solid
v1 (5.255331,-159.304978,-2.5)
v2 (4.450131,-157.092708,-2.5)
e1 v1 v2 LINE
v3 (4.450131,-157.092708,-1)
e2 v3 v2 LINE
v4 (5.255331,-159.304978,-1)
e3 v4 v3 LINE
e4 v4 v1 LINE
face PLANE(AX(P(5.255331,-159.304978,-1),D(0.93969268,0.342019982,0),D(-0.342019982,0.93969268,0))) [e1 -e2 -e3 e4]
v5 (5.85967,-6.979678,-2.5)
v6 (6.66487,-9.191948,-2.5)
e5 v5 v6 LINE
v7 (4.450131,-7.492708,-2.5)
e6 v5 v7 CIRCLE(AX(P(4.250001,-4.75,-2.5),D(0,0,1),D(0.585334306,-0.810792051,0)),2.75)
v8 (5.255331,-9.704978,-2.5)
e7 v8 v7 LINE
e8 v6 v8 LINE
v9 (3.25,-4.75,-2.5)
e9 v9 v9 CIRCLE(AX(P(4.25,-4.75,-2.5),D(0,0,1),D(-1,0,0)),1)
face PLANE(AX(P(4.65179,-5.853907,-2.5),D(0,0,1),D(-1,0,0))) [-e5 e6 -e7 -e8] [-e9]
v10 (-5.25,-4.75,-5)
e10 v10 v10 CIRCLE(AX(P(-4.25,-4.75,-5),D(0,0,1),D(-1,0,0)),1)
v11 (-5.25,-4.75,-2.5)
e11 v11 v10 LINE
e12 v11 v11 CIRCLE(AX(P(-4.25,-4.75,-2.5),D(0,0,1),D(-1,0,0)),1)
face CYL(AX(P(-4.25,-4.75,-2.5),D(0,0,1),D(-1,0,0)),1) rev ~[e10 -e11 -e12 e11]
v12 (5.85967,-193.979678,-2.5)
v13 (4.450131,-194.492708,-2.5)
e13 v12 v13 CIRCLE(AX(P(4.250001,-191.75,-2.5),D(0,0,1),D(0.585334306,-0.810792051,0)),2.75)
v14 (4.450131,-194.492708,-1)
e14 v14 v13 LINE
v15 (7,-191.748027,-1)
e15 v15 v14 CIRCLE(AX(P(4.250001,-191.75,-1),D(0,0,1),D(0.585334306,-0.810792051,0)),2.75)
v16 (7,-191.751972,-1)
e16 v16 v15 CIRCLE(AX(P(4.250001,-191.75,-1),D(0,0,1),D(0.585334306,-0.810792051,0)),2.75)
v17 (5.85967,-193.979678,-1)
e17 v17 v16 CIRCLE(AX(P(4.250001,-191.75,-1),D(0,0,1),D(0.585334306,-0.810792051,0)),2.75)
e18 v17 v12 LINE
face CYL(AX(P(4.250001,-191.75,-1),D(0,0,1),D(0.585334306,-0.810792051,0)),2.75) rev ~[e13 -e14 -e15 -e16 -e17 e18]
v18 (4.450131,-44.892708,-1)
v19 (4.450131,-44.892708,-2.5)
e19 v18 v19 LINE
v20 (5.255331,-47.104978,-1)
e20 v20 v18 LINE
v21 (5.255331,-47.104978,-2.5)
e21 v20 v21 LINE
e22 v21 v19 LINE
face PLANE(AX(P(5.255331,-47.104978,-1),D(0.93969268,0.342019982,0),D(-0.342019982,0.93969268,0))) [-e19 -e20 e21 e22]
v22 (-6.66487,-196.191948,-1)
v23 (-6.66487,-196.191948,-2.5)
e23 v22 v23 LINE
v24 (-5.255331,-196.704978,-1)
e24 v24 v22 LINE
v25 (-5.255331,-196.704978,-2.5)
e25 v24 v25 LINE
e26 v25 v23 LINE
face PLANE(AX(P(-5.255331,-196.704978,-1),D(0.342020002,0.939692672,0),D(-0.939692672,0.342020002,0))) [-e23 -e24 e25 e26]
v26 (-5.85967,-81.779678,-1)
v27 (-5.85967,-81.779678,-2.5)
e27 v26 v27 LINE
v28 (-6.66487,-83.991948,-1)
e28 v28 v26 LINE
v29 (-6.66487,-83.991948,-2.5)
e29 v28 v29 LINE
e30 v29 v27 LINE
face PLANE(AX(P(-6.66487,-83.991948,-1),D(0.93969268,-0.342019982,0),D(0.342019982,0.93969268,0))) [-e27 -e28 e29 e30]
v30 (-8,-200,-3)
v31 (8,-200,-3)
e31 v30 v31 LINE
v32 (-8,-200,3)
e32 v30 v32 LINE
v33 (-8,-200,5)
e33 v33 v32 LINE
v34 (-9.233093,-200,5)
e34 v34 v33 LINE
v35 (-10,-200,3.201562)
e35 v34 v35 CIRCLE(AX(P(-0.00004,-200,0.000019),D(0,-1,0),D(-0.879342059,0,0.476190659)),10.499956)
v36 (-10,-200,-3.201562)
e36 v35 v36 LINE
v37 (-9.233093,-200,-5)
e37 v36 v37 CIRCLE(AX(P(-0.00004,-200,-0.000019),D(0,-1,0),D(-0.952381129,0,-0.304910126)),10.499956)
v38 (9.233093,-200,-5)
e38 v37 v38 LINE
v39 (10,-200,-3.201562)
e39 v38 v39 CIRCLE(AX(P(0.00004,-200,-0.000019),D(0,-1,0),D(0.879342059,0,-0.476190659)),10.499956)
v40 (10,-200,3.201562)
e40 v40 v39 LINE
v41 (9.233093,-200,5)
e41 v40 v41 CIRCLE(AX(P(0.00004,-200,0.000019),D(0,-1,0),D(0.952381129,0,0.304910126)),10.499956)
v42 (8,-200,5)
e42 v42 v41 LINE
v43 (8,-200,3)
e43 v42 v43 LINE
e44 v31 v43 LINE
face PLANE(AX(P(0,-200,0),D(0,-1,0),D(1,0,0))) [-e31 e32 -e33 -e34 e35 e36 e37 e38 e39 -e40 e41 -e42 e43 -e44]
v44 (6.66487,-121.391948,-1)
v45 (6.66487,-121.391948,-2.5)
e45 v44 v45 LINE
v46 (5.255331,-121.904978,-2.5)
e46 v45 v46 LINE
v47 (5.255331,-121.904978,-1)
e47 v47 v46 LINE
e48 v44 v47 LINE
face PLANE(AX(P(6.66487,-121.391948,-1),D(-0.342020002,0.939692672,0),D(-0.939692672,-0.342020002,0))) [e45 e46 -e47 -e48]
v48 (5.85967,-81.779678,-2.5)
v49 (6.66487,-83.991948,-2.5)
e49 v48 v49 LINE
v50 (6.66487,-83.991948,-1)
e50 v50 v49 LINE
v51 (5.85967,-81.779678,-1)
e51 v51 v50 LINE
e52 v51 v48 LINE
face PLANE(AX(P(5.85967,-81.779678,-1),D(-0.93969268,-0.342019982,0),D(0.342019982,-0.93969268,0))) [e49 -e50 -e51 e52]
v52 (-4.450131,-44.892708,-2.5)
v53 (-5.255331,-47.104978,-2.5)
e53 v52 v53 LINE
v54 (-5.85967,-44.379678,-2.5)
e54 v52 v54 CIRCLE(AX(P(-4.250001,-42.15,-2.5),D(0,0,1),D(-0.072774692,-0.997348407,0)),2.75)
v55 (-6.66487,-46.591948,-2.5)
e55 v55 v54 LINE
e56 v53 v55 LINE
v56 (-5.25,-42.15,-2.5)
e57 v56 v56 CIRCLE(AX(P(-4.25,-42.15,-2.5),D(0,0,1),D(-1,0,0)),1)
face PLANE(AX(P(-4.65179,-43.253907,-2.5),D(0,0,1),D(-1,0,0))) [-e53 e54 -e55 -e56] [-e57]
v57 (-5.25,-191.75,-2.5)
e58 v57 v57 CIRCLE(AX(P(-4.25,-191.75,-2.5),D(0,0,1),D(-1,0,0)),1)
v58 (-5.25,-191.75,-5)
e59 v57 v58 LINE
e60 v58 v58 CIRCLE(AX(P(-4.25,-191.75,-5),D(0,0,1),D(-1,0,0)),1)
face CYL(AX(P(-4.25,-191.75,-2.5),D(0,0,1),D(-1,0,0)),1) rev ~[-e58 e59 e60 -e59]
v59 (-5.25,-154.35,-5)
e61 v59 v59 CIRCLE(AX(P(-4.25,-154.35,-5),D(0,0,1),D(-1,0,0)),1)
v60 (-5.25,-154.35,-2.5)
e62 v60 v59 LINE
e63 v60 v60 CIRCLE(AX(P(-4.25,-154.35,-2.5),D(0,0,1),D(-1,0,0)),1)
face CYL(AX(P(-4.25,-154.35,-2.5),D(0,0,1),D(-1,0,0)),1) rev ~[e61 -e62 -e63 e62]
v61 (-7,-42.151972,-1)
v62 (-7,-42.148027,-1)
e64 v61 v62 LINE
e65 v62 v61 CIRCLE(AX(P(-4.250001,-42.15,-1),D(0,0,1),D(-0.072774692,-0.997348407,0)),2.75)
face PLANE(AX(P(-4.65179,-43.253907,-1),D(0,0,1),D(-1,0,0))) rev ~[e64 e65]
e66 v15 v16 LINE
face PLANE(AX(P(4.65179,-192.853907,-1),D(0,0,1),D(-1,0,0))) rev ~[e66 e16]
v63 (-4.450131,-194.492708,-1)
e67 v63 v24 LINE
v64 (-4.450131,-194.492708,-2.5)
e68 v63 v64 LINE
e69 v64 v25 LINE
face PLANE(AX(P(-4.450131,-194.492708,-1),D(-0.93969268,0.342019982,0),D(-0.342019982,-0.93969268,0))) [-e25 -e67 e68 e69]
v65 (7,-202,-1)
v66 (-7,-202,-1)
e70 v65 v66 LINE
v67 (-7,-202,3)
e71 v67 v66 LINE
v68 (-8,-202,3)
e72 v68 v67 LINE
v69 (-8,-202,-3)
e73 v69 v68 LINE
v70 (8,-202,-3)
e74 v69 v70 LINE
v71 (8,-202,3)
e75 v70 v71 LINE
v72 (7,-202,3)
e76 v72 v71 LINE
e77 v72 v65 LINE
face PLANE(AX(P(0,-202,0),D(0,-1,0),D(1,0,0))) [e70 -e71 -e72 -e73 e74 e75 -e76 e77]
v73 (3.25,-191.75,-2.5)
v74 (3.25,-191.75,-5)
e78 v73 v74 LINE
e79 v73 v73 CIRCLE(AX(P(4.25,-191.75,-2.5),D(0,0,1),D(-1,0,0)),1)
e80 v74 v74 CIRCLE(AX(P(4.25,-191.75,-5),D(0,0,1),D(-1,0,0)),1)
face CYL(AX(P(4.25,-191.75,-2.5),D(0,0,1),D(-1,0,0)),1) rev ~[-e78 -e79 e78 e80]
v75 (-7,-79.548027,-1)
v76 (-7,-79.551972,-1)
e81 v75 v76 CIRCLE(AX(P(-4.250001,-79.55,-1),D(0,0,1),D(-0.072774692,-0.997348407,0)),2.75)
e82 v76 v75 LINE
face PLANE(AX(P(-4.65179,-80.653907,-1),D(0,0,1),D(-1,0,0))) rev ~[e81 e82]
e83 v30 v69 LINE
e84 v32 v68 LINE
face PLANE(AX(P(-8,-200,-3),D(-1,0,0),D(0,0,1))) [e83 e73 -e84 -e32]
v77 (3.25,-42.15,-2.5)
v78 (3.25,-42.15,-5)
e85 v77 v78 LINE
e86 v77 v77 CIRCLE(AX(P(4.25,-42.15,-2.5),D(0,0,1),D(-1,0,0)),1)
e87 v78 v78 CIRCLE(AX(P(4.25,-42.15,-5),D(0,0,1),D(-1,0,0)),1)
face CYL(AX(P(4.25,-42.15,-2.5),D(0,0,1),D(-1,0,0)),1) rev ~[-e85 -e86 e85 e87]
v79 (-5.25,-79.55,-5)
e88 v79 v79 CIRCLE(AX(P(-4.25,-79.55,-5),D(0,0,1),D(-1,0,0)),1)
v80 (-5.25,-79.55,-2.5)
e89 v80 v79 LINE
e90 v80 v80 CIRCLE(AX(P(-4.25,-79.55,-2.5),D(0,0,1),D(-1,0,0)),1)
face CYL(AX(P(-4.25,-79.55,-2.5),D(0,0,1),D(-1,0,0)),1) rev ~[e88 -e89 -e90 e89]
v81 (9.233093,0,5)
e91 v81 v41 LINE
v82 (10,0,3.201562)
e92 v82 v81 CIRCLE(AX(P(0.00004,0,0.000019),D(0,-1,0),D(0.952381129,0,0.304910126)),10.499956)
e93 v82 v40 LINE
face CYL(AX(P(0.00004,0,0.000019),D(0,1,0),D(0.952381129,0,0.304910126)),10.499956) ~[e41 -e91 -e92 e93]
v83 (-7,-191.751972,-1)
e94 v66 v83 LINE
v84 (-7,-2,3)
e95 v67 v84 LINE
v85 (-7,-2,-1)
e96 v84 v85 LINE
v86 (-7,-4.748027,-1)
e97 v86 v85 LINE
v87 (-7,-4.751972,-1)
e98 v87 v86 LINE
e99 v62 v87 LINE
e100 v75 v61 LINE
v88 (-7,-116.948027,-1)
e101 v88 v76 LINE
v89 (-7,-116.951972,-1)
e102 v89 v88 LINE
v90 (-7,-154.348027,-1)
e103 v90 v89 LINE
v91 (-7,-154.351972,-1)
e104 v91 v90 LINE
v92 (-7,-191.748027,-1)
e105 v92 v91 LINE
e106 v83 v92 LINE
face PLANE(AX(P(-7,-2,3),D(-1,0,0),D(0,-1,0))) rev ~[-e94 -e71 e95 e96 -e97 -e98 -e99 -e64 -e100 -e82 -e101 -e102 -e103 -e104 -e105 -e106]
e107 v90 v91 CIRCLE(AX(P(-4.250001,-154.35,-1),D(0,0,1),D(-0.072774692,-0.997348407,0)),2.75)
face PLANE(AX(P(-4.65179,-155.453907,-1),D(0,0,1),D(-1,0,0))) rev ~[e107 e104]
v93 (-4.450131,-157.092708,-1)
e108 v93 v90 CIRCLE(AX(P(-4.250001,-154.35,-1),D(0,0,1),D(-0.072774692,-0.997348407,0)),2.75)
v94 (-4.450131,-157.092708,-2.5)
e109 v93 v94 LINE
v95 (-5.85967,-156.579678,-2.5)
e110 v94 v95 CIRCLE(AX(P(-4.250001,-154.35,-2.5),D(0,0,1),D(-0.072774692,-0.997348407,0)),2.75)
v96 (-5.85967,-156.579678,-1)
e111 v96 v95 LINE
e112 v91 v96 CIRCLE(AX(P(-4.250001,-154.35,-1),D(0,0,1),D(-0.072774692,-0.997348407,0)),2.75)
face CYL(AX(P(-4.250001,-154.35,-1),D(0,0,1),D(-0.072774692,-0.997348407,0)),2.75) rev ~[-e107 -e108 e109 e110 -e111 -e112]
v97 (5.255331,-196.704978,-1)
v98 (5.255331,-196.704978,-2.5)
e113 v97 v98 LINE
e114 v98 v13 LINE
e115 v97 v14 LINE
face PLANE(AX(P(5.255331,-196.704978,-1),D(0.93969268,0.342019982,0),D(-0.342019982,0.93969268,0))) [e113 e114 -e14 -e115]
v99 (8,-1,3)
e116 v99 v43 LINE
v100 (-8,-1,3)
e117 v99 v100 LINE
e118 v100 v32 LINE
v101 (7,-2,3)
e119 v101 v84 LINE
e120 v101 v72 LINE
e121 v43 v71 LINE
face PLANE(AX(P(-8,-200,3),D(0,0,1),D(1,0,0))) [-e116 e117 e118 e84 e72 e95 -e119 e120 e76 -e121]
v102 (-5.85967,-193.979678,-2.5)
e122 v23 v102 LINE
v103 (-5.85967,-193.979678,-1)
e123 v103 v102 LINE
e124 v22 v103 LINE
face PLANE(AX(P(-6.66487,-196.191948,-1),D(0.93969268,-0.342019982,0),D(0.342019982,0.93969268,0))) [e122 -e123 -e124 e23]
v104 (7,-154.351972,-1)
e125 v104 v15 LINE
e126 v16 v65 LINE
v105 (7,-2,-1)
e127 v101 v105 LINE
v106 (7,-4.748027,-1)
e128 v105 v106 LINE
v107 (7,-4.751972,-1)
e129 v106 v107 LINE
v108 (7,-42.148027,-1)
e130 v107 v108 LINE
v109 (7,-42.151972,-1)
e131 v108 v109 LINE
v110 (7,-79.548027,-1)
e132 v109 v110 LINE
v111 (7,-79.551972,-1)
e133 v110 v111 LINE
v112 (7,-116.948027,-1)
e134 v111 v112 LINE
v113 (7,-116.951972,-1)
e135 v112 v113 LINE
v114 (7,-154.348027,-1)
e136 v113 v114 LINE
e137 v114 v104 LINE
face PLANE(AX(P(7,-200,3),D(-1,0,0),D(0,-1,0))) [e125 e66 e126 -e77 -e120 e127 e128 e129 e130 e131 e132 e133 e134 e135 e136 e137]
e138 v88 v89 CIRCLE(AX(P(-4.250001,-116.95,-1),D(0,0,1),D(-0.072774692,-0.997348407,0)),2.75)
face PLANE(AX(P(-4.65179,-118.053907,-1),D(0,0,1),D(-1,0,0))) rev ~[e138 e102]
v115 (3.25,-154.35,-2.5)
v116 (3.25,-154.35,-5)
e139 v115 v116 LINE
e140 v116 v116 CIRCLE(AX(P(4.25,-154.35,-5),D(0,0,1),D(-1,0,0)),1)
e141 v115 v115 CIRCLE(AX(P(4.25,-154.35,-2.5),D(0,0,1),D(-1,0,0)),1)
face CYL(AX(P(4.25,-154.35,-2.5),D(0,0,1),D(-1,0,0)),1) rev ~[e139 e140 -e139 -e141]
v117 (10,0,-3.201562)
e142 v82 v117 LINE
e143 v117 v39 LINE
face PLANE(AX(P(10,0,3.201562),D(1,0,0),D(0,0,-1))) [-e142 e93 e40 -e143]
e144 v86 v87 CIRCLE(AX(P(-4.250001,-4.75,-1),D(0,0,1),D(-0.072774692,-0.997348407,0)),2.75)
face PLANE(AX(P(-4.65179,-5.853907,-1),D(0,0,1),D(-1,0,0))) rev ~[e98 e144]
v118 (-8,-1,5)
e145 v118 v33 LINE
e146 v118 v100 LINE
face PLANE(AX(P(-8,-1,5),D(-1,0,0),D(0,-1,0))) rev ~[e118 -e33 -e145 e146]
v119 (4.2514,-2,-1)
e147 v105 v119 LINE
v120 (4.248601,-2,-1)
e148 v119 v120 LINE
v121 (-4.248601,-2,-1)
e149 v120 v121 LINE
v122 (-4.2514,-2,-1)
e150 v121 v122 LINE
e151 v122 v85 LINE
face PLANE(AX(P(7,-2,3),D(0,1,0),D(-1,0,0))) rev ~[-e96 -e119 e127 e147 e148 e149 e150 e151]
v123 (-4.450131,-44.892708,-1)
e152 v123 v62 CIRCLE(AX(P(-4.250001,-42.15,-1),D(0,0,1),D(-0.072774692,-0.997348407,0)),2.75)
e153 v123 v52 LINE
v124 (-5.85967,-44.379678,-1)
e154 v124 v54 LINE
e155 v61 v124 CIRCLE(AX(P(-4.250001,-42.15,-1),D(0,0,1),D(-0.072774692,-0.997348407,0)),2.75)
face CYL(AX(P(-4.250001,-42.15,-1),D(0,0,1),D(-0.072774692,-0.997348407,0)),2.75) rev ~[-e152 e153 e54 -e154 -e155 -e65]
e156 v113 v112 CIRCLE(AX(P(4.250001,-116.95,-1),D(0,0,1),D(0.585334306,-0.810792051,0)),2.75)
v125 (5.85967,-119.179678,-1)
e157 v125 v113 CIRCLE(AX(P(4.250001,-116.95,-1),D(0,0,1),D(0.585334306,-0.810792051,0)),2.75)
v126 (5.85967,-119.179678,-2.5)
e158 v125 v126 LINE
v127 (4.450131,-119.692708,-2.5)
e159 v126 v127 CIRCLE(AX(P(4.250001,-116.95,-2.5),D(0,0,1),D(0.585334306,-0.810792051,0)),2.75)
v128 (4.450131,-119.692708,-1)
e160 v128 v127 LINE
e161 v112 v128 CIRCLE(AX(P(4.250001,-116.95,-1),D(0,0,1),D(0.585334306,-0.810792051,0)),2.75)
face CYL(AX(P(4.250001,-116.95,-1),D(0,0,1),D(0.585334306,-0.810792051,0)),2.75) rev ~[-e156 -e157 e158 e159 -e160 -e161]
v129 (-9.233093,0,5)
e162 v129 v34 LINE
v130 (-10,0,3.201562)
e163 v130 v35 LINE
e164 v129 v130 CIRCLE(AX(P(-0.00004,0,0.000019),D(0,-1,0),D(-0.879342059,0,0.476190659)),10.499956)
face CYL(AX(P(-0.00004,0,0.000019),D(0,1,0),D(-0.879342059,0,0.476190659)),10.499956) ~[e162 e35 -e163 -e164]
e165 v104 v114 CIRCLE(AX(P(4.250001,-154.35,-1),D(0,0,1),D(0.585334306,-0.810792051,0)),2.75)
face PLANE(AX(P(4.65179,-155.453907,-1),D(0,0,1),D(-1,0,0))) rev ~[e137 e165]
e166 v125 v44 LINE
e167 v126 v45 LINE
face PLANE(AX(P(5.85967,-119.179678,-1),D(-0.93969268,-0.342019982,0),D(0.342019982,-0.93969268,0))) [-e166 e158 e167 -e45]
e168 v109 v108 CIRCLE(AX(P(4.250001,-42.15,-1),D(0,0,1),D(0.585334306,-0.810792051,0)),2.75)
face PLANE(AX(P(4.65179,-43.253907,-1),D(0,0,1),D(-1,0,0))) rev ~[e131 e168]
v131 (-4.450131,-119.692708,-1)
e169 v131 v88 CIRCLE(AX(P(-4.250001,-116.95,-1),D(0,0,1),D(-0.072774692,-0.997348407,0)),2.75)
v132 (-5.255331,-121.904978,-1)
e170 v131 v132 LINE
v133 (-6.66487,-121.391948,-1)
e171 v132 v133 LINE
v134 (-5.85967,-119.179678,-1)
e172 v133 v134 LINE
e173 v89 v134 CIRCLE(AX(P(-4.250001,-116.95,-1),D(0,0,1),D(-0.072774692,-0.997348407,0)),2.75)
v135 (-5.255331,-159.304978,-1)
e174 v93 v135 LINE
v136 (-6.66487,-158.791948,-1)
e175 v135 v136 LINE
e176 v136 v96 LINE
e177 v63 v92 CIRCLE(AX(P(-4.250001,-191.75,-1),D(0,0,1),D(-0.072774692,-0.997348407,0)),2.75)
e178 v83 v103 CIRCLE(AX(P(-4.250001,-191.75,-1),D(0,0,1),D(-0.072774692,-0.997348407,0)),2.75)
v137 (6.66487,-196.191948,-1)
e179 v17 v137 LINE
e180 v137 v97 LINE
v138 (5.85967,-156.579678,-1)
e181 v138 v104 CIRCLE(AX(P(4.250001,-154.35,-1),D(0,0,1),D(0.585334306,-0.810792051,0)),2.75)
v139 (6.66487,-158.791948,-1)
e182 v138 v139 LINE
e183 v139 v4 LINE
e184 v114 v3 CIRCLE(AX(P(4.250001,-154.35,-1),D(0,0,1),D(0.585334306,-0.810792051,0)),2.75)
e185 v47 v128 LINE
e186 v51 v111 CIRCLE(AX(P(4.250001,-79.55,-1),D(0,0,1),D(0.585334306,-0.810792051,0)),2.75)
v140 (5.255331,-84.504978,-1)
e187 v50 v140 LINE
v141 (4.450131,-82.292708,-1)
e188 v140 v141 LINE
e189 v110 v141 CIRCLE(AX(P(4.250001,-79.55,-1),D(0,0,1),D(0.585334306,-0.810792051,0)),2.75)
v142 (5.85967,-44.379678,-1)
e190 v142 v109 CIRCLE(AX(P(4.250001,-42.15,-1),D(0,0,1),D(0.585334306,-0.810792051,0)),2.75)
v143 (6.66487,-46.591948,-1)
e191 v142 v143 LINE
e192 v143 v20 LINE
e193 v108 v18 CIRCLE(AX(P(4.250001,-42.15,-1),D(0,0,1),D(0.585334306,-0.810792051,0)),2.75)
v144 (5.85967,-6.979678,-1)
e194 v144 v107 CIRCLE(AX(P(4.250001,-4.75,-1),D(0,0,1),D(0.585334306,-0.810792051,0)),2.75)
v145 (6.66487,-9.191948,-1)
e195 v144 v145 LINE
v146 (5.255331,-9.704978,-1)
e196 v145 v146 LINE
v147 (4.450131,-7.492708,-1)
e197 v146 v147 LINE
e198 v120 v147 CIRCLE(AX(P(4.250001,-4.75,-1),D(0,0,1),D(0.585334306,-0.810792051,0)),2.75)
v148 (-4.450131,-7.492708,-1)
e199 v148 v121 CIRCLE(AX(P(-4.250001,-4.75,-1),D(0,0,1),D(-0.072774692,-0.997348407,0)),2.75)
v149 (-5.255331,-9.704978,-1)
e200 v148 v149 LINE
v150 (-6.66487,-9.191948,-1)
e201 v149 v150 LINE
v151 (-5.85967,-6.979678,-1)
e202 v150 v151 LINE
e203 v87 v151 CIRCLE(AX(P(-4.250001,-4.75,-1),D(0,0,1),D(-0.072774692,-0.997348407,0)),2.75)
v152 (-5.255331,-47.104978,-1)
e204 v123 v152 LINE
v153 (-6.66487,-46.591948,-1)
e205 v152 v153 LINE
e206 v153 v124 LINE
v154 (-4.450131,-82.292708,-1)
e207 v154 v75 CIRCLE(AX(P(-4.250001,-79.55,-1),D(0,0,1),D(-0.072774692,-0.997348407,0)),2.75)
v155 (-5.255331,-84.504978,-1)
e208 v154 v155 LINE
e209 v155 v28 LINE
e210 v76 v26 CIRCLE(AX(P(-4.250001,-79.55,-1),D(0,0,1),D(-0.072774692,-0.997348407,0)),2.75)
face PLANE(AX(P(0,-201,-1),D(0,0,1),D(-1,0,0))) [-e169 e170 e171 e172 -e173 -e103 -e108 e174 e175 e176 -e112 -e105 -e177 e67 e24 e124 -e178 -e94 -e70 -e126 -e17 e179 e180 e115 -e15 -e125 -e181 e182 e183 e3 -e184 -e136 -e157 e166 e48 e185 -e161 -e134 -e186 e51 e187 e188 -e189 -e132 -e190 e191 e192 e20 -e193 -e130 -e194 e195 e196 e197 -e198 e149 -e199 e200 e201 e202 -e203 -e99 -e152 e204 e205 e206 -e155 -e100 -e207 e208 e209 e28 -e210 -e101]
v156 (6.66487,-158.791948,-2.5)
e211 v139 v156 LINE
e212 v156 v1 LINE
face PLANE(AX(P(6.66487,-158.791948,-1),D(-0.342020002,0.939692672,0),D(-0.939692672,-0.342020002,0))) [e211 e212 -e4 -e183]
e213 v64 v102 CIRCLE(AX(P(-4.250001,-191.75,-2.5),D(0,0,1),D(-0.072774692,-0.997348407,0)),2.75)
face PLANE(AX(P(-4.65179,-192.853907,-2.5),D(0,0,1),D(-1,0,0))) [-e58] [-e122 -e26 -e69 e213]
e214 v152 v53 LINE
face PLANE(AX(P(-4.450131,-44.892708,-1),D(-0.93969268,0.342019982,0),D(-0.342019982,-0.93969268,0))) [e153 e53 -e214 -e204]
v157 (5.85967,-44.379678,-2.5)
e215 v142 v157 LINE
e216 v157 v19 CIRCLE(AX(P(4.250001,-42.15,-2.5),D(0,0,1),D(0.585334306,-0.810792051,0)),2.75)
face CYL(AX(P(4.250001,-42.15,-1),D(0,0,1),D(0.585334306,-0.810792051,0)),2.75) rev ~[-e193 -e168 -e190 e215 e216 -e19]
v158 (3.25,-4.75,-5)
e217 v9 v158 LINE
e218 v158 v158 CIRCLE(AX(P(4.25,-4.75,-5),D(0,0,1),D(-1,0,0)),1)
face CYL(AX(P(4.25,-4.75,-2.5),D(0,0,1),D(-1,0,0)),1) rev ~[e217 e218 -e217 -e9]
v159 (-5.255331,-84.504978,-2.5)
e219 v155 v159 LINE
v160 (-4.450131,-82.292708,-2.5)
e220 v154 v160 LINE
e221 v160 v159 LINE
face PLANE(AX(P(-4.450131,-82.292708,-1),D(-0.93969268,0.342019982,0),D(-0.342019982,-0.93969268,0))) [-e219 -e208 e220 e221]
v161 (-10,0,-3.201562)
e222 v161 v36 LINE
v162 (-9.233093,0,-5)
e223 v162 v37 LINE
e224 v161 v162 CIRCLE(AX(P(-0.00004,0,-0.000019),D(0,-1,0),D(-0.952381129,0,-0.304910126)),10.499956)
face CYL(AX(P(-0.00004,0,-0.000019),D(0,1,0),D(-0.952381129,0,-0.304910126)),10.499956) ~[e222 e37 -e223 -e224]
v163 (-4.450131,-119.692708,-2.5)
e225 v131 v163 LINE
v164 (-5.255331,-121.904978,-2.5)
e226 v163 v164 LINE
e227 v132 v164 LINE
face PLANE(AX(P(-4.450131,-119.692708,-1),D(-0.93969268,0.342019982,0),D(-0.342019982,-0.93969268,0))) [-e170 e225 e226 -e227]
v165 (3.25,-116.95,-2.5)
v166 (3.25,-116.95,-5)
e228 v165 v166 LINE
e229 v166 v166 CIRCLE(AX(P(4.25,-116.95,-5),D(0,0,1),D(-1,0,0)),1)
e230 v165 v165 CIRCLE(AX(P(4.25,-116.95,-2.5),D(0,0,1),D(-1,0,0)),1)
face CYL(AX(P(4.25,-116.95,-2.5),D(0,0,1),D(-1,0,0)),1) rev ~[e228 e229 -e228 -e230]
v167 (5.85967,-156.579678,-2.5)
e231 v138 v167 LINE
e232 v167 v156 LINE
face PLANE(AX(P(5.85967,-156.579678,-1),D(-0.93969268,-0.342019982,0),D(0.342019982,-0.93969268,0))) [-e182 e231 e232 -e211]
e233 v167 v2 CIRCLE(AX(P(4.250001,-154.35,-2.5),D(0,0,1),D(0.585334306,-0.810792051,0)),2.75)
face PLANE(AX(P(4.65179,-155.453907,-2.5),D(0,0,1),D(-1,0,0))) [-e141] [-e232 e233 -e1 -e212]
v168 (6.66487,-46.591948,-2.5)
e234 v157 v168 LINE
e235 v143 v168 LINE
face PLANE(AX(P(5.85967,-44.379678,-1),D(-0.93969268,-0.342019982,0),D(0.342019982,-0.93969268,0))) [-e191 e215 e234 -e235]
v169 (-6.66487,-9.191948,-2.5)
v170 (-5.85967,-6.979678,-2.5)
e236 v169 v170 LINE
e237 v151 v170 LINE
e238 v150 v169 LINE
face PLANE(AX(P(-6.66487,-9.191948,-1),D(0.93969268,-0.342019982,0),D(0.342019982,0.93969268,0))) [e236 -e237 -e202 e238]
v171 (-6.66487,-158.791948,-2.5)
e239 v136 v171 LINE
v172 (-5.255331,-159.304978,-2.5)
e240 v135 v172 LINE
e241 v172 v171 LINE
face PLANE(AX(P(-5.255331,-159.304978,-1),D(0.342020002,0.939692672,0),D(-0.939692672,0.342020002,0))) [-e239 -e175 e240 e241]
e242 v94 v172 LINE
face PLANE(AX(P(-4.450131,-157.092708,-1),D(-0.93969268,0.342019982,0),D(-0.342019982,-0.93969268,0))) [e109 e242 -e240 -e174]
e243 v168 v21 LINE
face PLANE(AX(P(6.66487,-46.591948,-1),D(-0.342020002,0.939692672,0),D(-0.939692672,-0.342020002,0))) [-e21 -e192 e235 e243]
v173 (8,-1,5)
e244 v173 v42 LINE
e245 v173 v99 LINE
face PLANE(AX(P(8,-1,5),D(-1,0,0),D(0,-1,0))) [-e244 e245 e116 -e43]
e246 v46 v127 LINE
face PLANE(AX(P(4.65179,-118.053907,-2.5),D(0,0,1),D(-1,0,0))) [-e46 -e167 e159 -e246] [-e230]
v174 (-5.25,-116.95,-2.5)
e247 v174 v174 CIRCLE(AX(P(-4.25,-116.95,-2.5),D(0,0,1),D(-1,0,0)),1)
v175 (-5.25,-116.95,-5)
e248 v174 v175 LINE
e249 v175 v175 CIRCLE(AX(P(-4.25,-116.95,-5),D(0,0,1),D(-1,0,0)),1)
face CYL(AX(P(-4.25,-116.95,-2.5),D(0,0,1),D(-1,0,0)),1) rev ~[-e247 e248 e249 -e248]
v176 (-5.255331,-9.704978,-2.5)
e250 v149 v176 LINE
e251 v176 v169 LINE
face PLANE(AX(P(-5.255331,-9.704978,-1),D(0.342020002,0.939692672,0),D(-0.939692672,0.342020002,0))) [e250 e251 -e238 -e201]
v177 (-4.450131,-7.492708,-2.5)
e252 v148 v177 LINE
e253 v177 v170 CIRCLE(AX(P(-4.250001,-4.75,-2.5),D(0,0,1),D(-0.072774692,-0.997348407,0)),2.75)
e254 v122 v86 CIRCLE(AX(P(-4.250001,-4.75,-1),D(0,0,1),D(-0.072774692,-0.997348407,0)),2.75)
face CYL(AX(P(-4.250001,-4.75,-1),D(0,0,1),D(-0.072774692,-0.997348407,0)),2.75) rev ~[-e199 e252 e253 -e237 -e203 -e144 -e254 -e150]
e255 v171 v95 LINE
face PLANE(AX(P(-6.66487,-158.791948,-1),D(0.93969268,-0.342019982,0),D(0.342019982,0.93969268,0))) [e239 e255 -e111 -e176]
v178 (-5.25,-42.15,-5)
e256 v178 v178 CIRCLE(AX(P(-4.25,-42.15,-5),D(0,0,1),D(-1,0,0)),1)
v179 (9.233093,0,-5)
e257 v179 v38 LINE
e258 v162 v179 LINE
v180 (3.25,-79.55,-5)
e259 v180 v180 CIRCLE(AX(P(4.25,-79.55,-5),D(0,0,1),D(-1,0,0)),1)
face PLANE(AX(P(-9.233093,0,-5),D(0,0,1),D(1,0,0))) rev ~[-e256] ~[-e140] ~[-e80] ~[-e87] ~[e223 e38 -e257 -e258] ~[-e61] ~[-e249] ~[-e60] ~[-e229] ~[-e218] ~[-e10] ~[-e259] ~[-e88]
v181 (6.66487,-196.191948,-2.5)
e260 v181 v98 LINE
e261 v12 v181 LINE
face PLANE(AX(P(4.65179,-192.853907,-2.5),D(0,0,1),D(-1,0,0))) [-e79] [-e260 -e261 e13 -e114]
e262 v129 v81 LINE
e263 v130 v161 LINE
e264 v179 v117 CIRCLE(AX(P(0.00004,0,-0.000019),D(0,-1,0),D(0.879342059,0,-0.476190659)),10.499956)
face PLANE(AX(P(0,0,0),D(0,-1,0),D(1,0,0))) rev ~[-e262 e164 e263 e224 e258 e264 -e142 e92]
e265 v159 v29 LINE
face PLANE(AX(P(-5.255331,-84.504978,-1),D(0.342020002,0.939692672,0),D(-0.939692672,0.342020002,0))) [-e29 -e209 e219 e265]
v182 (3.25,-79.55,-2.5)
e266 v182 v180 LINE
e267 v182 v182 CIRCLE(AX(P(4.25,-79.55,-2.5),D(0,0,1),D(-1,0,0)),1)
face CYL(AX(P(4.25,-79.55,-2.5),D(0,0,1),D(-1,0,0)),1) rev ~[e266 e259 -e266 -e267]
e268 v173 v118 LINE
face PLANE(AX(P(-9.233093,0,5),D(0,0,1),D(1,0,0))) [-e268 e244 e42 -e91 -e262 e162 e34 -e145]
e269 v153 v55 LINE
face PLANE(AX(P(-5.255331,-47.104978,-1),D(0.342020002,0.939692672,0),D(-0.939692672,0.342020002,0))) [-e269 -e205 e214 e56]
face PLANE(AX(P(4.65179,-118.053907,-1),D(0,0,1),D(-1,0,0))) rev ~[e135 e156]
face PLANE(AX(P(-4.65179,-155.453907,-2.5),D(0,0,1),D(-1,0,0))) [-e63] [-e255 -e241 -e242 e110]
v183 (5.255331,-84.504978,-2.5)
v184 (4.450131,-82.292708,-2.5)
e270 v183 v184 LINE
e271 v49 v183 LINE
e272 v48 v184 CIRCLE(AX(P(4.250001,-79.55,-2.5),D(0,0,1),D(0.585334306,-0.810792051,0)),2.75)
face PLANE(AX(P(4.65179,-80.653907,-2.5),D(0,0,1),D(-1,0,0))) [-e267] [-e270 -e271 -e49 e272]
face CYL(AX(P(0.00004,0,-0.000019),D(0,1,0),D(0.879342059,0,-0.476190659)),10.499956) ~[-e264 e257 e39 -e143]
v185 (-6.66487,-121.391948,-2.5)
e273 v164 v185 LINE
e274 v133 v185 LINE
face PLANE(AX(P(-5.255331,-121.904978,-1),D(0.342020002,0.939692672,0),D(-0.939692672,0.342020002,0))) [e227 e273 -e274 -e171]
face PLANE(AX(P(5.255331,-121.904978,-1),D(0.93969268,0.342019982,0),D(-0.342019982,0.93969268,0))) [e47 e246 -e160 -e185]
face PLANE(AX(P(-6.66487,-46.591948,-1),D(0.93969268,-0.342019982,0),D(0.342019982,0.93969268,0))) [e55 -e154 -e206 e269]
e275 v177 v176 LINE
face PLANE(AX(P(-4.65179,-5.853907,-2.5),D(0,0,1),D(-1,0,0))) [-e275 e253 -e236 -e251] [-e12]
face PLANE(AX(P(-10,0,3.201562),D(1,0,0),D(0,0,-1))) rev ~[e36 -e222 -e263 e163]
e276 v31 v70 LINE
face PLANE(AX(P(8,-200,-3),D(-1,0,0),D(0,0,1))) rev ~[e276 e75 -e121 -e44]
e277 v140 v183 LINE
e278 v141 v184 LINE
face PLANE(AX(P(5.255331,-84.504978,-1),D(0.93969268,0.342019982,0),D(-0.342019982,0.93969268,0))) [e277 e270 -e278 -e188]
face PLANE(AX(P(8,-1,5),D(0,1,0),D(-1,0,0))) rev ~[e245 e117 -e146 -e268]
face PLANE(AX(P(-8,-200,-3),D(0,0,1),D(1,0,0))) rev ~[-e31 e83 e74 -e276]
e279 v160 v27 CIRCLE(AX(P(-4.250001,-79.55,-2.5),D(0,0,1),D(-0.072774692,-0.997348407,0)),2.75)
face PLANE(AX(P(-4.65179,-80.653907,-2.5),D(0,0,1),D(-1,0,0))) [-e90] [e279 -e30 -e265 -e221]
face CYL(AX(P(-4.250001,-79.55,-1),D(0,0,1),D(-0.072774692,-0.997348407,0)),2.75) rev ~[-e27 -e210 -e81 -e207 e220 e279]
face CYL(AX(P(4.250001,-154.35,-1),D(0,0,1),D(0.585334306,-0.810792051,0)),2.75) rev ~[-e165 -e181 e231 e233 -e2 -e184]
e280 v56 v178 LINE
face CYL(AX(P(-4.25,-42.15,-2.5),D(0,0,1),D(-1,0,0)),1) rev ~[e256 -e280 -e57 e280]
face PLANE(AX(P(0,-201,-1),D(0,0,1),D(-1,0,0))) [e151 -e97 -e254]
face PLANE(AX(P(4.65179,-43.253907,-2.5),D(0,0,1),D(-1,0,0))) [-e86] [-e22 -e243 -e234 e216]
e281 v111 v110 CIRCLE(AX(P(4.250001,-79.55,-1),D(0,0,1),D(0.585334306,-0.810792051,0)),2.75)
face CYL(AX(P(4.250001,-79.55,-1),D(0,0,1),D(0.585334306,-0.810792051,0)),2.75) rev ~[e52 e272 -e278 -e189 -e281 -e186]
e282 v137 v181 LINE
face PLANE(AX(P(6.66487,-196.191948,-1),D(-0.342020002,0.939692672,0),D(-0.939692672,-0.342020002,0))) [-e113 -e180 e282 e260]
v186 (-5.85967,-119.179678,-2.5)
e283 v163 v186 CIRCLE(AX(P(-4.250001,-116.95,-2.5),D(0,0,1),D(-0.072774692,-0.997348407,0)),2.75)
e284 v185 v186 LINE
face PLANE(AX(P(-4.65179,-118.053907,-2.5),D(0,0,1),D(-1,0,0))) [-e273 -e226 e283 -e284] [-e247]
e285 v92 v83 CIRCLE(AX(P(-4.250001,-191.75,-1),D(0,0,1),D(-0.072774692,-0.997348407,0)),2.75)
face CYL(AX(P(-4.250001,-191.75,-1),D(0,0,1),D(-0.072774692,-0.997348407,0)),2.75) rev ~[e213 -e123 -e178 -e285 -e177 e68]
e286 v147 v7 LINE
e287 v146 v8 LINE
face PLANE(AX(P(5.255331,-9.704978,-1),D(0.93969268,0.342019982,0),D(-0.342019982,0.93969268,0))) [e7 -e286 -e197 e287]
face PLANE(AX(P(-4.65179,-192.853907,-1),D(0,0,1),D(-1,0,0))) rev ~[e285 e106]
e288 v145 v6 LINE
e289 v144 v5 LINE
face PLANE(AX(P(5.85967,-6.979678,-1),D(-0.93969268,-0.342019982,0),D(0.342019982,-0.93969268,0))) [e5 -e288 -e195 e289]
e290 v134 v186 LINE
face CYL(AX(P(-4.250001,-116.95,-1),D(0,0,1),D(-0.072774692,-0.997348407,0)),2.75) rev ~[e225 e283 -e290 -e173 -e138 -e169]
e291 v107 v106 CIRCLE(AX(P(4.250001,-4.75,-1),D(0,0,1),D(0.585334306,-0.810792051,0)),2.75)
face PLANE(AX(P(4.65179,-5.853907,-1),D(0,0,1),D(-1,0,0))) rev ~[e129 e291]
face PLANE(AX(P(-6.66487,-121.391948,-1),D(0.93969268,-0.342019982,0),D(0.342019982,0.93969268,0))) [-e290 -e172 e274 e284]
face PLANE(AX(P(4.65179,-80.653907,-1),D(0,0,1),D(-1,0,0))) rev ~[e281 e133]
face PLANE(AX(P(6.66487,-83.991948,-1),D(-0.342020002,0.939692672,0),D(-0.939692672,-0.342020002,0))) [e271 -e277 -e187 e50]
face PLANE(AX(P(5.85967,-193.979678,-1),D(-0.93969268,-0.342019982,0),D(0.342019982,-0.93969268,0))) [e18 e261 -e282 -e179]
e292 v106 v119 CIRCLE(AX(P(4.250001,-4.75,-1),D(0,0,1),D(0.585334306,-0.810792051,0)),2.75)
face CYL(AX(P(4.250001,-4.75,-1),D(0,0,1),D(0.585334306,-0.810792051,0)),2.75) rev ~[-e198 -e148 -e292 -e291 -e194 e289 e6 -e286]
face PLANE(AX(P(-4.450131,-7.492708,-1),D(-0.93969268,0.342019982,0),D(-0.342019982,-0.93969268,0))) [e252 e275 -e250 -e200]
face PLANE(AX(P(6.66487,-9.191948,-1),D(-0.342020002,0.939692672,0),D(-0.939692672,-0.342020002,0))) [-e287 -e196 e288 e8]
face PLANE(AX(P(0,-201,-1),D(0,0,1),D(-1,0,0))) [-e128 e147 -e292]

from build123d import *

# Parameters (mm, degrees)
PAD_DEPTH           = 200
SKETCH001_W         = 16
SKETCH001_H         = 199
POCKET_DEPTH        = 2
SKETCH002_W         = 14
SKETCH002_H         = 198
POCKET001_DEPTH     = 4
SKETCH003_W         = 16
SKETCH003_H         = 6
PAD001_DEPTH        = 2
SKETCH004_W         = 14
SKETCH004_H         = 2
POCKET002_DEPTH     = 4
POCKET003_DEPTH     = 1.5
SKETCH006_R         = 1
POCKET004_DEPTH     = 3
LINEARPATTERN_COUNT = 6
LINEARPATTERN_PITCH = 37.4


with BuildPart() as part:
    # Sketch → Pad (new body)
    with BuildSketch(Plane.XZ):
        with BuildLine():
            ThreePointArc((-9.233093, 5), (-9.658497, 4.11867), (-10, 3.201562))
            Line((-10, 3.201562), (-10, -3.201562))
            ThreePointArc((-10, -3.201562), (-9.658497, -4.11867), (-9.233093, -5))
            Line((-9.233093, -5), (9.233093, -5))
            ThreePointArc((9.233093, -5), (9.658497, -4.11867), (10, -3.201562))
            Line((10, 3.201562), (10, -3.201562))
            ThreePointArc((10, 3.201562), (9.658497, 4.11867), (9.233093, 5))
            Line((-9.233093, 5), (9.233093, 5))
        make_face()
    extrude(amount=PAD_DEPTH)

    # Sketch001 (on Face2 of Pad) → Pocket (cut)
    with BuildSketch(Plane(origin=(0, 0, 5), x_dir=(-1, 0, 0), z_dir=(0, 0, 1))):
        with Locations((0, 100.5)):
            Rectangle(SKETCH001_W, SKETCH001_H)
    extrude(amount=-POCKET_DEPTH, mode=Mode.SUBTRACT)

    # Sketch002 (on Face14 of Pocket) → Pocket001 (cut)
    with BuildSketch(Plane(origin=(0, 0, 3), x_dir=(-1, 0, 0), z_dir=(0, 0, 1))):
        with Locations((0, 101)):
            Rectangle(SKETCH002_W, SKETCH002_H)
    extrude(amount=-POCKET001_DEPTH, mode=Mode.SUBTRACT)

    # Sketch003 (on Face5 of Pocket001) → Pad001 (join)
    with BuildSketch(Plane.XZ.offset(200)):
        Rectangle(SKETCH003_W, SKETCH003_H)
    extrude(amount=PAD001_DEPTH)

    # Sketch004 (on Face18 of Pad001) → Pocket002 (cut)
    with BuildSketch(Plane(origin=(0, 0, 3), x_dir=(-1, 0, 0), z_dir=(0, 0, 1))):
        with Locations((0, 201)):
            Rectangle(SKETCH004_W, SKETCH004_H)
    extrude(amount=-POCKET002_DEPTH, mode=Mode.SUBTRACT)

    # Sketch005 (on Face27 of Pocket002) → Pocket003 (cut)
    with BuildSketch(Plane(origin=(0, 0, -1), x_dir=(-1, 0, 0), z_dir=(0, 0, 1))):
        with BuildLine():
            ThreePointArc((-5.85967, 6.979678), (-3.309445, 2.165845), (-4.450131, 7.492708))
            Line((-5.255331, 9.704978), (-4.450131, 7.492708))
            Line((-6.66487, 9.191948), (-5.255331, 9.704978))
            Line((-5.85967, 6.979678), (-6.66487, 9.191948))
        make_face()
        with BuildLine():
            ThreePointArc((4.450131, 7.492708), (3.309445, 2.165845), (5.85967, 6.979678))
            Line((6.66487, 9.191948), (5.85967, 6.979678))
            Line((5.255331, 9.704978), (6.66487, 9.191948))
            Line((4.450131, 7.492708), (5.255331, 9.704978))
        make_face()
    pocket003 = extrude(amount=-POCKET003_DEPTH, mode=Mode.SUBTRACT)

    # Sketch006 (on Face39 of Pocket003) → Pocket004 (cut)
    with BuildSketch(Plane(origin=(0, 0, -2.5), x_dir=(-1, 0, 0), z_dir=(0, 0, 1))):
        with Locations((-4.25, 4.75)):
            Circle(SKETCH006_R)
        with Locations((4.25, 4.75)):
            Circle(SKETCH006_R)
    pocket004 = extrude(amount=-POCKET004_DEPTH, mode=Mode.SUBTRACT)

    # LinearPattern: Pocket003, Pocket004 ×6
    with Locations(*[(0, -i * LINEARPATTERN_PITCH, 0) for i in range(1, LINEARPATTERN_COUNT)]):
        add(pocket003, mode=Mode.SUBTRACT)
        add(pocket004, mode=Mode.SUBTRACT)


solid = part.part
